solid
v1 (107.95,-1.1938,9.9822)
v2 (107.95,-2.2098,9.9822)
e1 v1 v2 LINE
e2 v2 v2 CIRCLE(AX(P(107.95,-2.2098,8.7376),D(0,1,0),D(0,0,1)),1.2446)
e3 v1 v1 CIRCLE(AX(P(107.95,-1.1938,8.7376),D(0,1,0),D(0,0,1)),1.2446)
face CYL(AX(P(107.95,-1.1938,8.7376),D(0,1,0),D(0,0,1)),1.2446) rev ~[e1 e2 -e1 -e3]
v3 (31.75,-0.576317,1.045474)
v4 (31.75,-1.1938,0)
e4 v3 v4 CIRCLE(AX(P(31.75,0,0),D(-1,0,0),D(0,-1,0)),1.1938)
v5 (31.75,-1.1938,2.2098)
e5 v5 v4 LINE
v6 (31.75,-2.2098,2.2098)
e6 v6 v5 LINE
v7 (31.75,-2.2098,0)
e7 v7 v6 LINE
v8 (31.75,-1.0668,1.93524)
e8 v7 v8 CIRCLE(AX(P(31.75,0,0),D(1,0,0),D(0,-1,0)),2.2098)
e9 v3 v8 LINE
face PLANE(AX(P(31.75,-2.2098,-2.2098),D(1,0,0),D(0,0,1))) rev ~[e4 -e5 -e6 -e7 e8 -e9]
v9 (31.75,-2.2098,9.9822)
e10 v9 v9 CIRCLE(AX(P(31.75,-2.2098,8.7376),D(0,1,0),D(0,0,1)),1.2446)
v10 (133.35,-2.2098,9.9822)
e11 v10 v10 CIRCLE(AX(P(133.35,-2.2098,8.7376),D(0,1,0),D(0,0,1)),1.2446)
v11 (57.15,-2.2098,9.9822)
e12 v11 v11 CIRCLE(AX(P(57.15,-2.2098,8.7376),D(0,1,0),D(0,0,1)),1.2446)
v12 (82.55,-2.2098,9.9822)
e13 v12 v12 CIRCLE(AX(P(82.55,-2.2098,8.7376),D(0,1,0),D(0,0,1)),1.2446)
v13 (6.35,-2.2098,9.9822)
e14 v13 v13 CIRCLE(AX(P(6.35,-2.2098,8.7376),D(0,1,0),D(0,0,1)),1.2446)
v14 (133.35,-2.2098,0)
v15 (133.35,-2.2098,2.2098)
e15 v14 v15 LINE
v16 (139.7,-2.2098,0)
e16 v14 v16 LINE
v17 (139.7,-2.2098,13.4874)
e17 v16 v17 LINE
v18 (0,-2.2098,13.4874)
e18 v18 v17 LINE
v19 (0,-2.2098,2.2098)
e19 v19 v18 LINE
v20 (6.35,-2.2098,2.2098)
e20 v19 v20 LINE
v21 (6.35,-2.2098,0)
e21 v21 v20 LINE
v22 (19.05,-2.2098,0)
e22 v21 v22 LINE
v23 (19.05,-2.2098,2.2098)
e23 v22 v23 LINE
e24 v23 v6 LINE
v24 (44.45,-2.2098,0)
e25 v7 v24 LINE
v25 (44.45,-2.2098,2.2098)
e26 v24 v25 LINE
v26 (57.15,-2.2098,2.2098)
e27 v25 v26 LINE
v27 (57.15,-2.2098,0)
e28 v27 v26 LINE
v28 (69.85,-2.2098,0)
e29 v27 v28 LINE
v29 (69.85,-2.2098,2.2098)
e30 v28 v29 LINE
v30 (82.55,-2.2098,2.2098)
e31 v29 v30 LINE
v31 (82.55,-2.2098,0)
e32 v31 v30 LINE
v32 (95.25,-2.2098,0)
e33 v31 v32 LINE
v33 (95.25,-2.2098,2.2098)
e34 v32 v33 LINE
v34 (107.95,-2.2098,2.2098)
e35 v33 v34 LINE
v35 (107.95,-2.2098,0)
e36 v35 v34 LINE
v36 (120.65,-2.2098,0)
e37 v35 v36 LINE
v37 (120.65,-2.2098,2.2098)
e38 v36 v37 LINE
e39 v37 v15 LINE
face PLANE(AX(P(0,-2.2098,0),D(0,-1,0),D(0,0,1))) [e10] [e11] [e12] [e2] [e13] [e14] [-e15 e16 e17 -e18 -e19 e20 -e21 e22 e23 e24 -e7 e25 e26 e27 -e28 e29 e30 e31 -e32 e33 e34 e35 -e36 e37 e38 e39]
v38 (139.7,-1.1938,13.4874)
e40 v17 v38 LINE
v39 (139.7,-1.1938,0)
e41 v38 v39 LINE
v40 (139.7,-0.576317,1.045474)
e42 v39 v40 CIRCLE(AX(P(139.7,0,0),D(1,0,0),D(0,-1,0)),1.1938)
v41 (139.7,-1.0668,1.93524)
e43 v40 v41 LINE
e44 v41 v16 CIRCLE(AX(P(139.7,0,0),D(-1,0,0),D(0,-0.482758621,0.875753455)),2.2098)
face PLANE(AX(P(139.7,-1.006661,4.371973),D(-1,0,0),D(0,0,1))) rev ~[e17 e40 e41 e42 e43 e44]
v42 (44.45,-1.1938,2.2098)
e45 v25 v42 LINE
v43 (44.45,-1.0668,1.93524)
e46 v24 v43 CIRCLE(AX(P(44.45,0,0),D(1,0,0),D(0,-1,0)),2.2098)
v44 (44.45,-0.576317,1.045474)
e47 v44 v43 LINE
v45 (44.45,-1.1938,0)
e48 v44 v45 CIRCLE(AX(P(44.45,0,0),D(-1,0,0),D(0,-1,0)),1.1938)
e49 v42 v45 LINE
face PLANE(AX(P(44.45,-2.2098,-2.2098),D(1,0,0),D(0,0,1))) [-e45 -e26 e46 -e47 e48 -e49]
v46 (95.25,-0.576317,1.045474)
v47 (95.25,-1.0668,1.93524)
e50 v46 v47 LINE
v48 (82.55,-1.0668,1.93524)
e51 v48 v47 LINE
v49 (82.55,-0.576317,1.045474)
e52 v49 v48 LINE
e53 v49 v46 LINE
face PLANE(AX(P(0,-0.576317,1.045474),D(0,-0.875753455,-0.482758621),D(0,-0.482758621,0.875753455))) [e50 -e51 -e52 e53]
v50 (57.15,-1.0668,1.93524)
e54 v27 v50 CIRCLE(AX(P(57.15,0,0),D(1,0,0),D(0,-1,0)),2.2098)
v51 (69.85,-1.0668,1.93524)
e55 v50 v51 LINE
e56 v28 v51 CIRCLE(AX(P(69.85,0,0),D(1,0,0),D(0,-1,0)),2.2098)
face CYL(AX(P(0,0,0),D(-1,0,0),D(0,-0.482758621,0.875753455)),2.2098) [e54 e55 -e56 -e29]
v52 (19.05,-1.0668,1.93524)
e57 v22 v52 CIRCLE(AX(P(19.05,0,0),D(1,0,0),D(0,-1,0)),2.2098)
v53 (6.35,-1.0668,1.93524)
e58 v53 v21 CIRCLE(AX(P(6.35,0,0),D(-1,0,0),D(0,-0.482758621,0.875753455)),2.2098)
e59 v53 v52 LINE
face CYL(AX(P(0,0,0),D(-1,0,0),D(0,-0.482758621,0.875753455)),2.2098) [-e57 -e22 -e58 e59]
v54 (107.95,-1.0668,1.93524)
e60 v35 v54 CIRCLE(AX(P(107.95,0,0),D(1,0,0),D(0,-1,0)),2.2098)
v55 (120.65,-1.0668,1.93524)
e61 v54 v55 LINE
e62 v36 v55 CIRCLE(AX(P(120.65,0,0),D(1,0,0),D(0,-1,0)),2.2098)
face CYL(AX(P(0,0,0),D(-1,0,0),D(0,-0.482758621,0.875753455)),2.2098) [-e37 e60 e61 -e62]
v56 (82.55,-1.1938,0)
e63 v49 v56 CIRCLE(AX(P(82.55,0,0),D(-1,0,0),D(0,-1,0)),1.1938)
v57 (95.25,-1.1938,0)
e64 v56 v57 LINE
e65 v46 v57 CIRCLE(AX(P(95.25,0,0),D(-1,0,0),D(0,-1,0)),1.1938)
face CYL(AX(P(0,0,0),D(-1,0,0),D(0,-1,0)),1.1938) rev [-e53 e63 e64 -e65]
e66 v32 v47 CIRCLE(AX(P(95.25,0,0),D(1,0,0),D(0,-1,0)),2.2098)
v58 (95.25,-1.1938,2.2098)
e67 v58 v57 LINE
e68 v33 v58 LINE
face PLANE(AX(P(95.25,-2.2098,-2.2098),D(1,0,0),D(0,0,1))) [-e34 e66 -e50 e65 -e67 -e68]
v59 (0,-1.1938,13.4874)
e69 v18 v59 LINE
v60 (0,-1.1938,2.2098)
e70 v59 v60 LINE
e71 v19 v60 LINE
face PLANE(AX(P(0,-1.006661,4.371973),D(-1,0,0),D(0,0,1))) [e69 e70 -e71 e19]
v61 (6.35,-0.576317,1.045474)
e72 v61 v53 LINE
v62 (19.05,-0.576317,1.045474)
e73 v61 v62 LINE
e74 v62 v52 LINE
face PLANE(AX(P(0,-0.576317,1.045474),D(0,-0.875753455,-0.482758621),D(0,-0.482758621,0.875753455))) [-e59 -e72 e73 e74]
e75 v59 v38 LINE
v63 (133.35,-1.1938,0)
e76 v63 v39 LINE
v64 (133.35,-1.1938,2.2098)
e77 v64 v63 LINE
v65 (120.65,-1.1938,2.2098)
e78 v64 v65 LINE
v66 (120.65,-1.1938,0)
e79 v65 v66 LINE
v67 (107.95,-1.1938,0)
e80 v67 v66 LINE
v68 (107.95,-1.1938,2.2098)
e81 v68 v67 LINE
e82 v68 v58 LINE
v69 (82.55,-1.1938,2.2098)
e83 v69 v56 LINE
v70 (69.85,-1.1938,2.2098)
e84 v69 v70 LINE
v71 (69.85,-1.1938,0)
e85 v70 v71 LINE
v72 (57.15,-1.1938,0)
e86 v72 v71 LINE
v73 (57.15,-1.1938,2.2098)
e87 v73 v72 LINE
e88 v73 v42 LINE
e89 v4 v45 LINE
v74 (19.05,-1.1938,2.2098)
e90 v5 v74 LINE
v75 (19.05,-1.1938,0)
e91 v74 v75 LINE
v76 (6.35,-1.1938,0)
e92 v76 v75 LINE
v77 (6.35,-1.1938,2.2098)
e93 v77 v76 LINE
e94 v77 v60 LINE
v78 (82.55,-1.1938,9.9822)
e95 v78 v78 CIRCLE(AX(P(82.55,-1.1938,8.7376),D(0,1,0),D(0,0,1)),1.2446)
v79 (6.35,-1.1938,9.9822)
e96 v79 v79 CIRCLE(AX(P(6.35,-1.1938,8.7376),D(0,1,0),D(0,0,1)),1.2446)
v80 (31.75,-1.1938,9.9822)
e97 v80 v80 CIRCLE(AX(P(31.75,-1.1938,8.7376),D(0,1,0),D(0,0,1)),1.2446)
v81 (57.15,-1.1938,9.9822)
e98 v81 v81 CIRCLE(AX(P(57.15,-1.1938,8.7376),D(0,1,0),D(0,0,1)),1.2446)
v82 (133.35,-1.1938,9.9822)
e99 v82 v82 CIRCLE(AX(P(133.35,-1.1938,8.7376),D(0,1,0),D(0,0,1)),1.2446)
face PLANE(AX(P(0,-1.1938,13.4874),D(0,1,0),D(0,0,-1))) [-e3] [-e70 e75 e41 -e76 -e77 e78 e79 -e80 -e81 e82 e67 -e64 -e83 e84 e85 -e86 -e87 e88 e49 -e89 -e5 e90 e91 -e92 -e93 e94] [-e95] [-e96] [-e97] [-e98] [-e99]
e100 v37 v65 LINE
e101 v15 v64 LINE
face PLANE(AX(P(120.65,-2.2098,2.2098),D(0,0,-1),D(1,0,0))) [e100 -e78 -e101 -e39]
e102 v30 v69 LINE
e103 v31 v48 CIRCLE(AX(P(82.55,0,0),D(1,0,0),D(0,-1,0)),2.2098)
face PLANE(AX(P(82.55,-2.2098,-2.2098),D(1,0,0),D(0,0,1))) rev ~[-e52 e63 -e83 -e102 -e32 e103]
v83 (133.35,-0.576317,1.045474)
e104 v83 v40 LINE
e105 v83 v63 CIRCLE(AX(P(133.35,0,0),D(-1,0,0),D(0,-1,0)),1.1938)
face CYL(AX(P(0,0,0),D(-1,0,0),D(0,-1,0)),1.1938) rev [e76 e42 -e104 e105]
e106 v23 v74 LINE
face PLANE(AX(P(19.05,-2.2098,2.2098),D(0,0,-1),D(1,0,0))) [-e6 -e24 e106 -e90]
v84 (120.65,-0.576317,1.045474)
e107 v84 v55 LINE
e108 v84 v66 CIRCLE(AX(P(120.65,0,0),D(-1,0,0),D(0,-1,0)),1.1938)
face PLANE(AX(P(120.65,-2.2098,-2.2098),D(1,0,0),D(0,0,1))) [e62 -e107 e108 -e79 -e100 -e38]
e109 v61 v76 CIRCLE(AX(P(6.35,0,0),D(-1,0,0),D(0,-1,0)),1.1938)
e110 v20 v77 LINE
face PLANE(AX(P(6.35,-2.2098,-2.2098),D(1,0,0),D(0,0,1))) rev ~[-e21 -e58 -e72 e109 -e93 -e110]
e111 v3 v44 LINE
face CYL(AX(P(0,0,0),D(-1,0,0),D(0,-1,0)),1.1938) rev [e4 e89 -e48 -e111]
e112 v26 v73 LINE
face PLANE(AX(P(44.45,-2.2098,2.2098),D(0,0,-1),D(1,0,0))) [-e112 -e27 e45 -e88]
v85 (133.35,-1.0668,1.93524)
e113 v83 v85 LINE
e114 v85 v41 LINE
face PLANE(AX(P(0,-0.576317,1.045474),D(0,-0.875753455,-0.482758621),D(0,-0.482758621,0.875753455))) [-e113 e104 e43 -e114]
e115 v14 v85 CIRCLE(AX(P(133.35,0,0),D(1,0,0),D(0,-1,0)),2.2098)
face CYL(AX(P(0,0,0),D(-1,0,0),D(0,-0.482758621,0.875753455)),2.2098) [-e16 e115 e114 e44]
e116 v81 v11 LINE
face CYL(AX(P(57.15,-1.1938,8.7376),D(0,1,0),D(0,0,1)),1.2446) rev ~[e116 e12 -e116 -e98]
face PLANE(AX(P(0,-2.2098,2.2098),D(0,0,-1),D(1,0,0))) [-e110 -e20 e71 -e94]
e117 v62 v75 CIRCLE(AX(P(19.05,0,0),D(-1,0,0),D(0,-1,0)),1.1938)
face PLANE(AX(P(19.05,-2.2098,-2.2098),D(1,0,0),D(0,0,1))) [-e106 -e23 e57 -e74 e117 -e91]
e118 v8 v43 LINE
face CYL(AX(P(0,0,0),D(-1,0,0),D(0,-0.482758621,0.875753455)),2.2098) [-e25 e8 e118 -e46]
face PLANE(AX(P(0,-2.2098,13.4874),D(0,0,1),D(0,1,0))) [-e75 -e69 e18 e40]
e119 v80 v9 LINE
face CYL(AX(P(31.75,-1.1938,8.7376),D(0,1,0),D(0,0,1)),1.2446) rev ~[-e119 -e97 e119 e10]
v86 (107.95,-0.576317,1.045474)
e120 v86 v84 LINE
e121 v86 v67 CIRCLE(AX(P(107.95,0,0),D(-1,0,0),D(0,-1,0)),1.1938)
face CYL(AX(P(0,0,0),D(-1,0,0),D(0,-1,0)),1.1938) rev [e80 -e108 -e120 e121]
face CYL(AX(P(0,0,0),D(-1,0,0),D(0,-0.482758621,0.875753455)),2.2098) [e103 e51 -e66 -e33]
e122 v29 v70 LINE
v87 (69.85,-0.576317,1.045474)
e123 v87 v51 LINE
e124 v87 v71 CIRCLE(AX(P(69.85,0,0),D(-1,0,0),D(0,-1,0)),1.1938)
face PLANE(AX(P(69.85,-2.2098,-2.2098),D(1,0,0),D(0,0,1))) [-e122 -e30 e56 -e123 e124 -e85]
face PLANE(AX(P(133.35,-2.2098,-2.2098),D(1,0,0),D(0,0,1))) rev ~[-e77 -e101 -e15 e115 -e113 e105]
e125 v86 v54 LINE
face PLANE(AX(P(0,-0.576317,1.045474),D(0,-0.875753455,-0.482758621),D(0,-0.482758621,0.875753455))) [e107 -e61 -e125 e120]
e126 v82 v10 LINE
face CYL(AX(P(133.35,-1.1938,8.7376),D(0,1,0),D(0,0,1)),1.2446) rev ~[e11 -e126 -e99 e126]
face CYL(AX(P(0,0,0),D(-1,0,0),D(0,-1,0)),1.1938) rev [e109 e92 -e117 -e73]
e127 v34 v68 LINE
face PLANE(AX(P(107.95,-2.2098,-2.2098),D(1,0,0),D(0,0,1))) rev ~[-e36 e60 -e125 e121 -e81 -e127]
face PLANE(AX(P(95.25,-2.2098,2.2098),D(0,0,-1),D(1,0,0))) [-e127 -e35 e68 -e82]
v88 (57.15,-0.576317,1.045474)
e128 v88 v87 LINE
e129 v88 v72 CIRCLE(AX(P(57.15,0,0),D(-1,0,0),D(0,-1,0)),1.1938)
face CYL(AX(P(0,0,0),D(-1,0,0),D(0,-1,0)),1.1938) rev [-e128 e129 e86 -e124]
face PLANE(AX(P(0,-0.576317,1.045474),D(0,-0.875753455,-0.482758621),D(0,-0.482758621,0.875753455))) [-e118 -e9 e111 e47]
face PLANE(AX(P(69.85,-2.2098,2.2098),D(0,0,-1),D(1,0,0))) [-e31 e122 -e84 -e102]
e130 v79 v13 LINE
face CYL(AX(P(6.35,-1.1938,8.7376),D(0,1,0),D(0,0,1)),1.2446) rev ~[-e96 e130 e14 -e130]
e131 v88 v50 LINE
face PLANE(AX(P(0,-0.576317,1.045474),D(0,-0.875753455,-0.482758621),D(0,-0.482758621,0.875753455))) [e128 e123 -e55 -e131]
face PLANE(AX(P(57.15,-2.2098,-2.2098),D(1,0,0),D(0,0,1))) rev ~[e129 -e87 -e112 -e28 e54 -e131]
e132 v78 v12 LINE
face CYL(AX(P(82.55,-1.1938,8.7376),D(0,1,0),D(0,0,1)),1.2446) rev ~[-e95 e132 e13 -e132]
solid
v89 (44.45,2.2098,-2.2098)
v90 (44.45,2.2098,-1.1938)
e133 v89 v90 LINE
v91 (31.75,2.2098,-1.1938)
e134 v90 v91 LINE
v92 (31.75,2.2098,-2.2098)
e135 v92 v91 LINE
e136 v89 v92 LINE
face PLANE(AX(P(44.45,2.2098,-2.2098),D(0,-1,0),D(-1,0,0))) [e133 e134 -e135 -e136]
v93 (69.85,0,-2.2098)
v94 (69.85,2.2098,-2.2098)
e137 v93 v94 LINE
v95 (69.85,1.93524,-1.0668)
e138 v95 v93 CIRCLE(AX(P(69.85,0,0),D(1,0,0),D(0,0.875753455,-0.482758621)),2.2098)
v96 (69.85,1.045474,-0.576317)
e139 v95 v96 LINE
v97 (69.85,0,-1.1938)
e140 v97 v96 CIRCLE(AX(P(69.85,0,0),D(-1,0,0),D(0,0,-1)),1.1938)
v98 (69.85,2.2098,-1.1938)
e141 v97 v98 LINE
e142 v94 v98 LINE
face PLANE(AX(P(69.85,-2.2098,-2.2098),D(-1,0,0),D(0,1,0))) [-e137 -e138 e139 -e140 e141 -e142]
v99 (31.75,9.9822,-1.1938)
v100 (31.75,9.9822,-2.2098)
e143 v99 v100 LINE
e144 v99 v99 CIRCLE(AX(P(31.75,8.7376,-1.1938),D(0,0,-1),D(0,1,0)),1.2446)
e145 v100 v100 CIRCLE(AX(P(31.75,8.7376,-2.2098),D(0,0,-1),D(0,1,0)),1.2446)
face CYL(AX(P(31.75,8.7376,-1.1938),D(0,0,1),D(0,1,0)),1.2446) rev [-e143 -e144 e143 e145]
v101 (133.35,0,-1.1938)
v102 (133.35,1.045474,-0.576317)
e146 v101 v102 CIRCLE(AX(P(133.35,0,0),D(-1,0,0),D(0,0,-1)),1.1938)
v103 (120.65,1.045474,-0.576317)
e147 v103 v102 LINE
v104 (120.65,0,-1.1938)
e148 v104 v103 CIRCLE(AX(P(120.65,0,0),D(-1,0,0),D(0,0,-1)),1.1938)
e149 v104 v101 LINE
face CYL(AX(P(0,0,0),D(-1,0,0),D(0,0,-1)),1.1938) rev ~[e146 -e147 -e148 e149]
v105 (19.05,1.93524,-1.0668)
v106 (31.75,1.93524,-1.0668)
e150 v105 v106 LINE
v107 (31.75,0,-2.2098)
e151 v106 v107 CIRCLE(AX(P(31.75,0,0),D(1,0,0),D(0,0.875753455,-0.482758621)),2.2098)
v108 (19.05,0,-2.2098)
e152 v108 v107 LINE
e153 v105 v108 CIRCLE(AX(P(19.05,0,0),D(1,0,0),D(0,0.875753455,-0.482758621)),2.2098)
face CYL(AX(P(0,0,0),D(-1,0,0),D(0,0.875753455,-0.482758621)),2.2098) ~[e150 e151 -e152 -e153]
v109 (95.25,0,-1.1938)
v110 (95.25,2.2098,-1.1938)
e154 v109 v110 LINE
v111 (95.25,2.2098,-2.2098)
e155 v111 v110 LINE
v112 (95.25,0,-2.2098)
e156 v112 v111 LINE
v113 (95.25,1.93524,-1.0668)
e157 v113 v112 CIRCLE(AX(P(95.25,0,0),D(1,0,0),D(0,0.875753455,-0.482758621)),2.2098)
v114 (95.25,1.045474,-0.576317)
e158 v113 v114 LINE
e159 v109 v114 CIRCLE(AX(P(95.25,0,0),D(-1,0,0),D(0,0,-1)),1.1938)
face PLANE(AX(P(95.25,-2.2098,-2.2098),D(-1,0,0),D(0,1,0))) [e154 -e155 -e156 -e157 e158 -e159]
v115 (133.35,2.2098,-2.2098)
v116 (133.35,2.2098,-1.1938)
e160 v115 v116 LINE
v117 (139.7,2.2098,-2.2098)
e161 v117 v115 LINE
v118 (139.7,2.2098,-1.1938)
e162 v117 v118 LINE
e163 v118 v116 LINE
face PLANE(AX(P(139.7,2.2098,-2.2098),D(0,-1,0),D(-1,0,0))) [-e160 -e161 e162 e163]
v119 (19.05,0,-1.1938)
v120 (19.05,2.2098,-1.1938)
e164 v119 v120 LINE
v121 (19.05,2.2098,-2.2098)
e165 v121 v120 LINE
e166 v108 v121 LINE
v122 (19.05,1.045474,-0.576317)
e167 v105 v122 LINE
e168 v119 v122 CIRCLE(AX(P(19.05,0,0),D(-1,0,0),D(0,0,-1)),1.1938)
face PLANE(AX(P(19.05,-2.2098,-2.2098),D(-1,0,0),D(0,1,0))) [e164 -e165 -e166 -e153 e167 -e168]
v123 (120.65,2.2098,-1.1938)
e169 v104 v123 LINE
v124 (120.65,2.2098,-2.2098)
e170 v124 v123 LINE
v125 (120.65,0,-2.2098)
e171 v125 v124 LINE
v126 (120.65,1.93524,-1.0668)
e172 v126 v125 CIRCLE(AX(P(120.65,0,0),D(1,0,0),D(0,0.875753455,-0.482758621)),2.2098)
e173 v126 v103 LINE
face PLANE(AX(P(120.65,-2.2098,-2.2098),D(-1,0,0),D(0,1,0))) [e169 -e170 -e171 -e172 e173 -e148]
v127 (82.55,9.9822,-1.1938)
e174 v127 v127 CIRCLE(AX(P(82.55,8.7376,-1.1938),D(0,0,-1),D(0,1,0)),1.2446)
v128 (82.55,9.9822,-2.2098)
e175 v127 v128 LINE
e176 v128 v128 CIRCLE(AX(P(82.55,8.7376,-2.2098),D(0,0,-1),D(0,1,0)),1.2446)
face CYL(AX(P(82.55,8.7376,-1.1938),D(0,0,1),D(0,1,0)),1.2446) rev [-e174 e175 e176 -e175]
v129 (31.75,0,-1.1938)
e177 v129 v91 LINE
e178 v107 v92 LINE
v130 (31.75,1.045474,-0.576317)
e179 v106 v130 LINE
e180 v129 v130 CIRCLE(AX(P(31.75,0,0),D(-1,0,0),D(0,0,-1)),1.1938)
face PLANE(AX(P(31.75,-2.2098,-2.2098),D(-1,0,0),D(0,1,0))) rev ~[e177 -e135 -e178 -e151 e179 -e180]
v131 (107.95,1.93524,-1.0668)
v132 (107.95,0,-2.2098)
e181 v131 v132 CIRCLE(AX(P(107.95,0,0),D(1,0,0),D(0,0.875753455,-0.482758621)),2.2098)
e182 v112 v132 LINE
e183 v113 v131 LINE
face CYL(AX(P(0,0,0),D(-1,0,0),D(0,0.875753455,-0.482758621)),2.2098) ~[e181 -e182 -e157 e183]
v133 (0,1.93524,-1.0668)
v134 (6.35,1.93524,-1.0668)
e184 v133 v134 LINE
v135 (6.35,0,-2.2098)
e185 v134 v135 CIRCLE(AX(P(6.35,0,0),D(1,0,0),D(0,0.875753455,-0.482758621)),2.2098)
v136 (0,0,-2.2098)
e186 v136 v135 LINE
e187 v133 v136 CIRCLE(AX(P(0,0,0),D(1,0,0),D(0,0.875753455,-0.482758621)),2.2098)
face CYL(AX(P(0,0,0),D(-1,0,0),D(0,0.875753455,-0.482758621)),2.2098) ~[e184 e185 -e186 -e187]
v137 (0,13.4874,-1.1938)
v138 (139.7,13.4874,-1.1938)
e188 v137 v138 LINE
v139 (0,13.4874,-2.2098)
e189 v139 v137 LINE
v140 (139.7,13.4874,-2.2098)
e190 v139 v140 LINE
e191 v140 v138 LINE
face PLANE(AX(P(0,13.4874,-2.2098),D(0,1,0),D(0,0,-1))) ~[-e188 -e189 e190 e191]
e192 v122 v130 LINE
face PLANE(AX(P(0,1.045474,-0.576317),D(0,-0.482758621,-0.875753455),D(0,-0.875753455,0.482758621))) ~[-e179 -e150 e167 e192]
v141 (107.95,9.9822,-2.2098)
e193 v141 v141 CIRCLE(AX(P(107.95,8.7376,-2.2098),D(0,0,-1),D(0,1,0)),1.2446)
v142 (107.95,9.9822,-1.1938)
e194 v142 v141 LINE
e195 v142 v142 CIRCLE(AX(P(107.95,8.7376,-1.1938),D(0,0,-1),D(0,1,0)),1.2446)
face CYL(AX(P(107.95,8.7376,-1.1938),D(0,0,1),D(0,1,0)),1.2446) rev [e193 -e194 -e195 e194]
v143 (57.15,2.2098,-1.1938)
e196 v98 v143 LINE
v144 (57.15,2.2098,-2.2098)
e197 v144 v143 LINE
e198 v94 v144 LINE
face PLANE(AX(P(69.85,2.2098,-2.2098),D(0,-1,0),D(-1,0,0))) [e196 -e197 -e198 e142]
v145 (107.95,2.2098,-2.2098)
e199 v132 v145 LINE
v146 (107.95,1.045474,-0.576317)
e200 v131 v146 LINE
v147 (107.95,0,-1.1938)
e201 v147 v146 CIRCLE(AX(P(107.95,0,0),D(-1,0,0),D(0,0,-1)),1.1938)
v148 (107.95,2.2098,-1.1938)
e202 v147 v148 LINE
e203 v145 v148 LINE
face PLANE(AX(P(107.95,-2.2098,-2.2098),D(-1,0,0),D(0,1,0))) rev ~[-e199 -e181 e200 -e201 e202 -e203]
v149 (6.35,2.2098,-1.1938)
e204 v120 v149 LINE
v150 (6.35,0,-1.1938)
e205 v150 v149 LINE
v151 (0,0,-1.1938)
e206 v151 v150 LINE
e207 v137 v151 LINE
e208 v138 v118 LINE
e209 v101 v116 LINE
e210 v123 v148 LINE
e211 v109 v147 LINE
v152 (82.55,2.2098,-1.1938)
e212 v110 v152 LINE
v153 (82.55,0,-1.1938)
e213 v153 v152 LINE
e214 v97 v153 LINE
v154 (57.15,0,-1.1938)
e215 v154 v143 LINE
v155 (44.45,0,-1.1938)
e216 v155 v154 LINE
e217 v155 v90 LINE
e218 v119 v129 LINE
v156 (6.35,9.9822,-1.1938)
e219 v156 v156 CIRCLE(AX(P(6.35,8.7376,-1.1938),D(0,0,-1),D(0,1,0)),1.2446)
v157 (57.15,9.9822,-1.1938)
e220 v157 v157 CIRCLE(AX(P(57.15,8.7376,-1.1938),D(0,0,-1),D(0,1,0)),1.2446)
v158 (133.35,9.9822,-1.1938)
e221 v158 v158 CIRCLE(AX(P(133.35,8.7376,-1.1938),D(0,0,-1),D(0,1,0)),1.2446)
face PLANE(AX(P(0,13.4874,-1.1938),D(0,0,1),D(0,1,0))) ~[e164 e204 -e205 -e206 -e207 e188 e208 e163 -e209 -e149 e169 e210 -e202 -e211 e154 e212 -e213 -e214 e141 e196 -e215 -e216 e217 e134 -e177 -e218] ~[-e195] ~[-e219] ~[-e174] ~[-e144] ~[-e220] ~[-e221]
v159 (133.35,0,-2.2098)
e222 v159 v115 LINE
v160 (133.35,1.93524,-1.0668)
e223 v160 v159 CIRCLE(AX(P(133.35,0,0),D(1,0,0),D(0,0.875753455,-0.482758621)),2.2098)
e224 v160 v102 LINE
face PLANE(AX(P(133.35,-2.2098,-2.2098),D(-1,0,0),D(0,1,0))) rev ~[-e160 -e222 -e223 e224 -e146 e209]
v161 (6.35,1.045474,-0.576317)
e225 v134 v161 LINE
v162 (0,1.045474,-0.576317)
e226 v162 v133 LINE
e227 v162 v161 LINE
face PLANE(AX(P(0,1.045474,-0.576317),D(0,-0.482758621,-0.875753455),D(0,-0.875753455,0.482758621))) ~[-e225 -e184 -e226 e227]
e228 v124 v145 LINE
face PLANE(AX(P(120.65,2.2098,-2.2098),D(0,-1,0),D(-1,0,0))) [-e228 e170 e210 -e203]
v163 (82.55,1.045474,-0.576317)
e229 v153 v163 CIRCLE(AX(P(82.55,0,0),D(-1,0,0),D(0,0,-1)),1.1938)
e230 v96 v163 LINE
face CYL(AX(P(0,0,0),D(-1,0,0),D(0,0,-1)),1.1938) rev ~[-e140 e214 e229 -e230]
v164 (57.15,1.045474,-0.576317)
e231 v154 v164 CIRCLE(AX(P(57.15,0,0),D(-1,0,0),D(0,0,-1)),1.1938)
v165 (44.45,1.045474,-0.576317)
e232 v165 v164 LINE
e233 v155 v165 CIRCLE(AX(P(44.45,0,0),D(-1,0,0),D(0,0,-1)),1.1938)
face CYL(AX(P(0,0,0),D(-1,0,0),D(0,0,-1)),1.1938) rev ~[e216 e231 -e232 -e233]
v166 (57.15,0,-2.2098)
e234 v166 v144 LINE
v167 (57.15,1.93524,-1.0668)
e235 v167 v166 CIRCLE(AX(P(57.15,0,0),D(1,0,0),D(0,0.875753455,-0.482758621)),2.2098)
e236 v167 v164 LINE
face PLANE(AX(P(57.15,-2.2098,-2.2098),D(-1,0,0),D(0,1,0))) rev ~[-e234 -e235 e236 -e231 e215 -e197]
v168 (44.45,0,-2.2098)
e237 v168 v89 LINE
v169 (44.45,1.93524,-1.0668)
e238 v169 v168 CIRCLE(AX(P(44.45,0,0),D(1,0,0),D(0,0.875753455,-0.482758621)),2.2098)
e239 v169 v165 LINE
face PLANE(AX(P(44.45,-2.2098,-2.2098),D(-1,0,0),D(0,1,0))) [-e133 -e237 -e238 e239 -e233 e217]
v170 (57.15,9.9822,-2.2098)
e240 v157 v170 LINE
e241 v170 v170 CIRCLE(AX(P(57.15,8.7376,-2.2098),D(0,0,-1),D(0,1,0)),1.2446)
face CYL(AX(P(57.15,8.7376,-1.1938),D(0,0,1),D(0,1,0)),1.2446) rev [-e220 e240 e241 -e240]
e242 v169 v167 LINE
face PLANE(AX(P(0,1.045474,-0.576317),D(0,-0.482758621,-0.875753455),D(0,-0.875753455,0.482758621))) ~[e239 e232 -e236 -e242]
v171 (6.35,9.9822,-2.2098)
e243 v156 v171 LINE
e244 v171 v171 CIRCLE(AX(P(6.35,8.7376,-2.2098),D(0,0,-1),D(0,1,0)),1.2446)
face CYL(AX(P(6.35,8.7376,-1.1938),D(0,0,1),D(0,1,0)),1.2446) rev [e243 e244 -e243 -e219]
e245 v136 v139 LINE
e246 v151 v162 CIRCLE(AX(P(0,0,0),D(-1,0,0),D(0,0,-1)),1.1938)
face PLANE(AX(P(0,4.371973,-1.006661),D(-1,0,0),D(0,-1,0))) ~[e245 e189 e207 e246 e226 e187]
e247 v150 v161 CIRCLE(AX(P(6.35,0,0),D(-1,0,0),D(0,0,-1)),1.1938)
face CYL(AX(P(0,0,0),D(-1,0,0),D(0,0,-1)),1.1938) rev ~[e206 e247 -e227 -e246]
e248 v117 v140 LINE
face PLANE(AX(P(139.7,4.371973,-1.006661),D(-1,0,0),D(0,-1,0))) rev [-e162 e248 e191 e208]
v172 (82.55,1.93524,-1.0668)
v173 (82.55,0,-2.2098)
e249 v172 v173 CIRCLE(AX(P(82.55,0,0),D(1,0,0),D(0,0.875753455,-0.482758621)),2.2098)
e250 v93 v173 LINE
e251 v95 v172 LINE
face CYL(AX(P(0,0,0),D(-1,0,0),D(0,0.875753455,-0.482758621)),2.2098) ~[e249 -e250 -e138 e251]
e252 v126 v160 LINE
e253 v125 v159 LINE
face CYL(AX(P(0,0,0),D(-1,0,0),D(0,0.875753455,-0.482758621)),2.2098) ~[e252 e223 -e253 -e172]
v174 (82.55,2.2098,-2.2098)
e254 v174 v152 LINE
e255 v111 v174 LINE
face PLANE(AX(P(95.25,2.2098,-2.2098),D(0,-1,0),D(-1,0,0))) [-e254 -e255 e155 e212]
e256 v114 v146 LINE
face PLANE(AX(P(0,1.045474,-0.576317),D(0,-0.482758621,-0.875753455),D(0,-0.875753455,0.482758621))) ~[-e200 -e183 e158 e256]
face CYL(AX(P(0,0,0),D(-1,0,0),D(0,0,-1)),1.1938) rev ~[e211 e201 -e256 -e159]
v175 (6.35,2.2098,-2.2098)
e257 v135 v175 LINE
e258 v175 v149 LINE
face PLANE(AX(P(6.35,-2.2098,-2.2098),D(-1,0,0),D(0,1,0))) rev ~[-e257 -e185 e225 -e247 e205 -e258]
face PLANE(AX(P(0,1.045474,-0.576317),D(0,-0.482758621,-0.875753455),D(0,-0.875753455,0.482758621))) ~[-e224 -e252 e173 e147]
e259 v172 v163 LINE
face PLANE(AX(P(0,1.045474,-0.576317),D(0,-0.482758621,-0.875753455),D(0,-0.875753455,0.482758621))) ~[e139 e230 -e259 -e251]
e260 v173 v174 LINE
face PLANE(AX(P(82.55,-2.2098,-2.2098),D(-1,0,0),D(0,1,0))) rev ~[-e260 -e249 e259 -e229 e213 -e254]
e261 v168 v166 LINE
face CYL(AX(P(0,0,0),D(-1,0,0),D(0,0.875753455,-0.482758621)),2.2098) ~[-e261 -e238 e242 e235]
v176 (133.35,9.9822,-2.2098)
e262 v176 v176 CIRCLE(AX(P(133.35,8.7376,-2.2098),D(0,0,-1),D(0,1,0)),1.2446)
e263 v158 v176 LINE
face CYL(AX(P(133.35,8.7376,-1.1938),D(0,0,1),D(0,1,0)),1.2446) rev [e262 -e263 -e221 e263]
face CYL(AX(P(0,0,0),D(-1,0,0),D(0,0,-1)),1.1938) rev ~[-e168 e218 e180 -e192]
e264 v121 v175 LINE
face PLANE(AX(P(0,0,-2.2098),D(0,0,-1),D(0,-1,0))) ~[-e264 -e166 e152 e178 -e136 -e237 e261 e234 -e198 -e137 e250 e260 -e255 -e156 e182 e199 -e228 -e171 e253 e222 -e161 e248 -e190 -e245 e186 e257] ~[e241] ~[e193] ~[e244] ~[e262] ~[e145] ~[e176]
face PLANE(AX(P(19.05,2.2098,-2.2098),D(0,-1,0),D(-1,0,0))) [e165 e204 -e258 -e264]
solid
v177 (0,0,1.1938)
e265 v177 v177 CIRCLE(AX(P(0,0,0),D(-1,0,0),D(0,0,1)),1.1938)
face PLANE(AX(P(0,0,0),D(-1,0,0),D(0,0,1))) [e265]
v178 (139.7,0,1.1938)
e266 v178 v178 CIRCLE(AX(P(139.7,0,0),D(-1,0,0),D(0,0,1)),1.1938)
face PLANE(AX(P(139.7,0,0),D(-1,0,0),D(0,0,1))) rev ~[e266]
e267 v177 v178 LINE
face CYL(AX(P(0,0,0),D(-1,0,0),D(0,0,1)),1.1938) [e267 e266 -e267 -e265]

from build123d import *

# Parameters (mm, degrees)
BOSS_EXTRUDE1_DEPTH = 139.7
SKETCH2_R           = 1.2446
CUT_EXTRUDE1_DEPTH  = 141.39082752
LPATTERN1_COUNT     = 6
LPATTERN1_PITCH     = 25.4
SKETCH3_W           = 6.35
SKETCH3_H           = 4.4196
SKETCH3_W_2         = 12.7
CUT_EXTRUDE2_DEPTH  = 142.224650988
SKETCH4_W           = 12.7
SKETCH4_H           = 4.4196
SKETCH4_W_2         = 6.35
CUT_EXTRUDE3_DEPTH  = 142.224650988
SKETCH5_R           = 1.1938
BOSS_EXTRUDE2_DEPTH = 139.7


with BuildPart() as part:
    # Sketch1 → Boss-Extrude1 (new body)
    with BuildSketch(Plane(origin=(0, 0, 0), x_dir=(0, 0, -1), z_dir=(1, 0, 0))):
        with BuildLine():
            Line((0, -2.2098), (-13.4874, -2.2098))
            Line((-13.4874, -2.2098), (-13.4874, -1.1938))
            Line((-13.4874, -1.1938), (0, -1.1938))
            ThreePointArc((0, -1.1938), (0.607104158, 1.027902224), (-1.045474475, -0.576317241))
            Line((-1.045474475, -0.576317241), (-1.935239985, -1.0668))
            ThreePointArc((-1.935239985, -1.0668), (1.123788548, 1.902712627), (0, -2.2098))
        make_face()
    extrude(amount=BOSS_EXTRUDE1_DEPTH)

    # Sketch2 → Cut-Extrude1 (cut, through all)
    with BuildSketch(Plane(origin=(0, -1.1938, 0), x_dir=(1, 0, 0), z_dir=(0, 1, 0))):
        with Locations(Location((6.35, -8.7376, 0), (0, 0, 270))):
            Circle(SKETCH2_R)
    cut_extrude1 = extrude(amount=-CUT_EXTRUDE1_DEPTH, mode=Mode.SUBTRACT)

    # LPattern1: Cut-Extrude1 ×6
    with Locations(*[(i * LPATTERN1_PITCH, 0, 0) for i in range(1, LPATTERN1_COUNT)]):
        add(cut_extrude1, mode=Mode.SUBTRACT)


with BuildPart() as body_2:
    # Mirror1: mirrored copy
    add(part.part.mirror(Plane(origin=(0, 0, 0), x_dir=(0, 0.7071067811865477, 0.7071067811865474), z_dir=(0, 0.7071067811865476, -0.7071067811865476))))

    # Sketch4 → Cut-Extrude3 (cut, through all)
    with BuildSketch(Plane(origin=(0, 0, -2.2098), x_dir=(-1, 0, 0), z_dir=(0, 0, -1))):
        with Locations((-12.7, 0)):
            Rectangle(SKETCH4_W, SKETCH4_H)
        with Locations((-38.1, 0)):
            Rectangle(SKETCH4_W, SKETCH4_H)
        with Locations((-63.5, 0)):
            Rectangle(SKETCH4_W, SKETCH4_H)
        with Locations((-88.9, 0)):
            Rectangle(SKETCH4_W, SKETCH4_H)
        with Locations((-114.3, 0)):
            Rectangle(SKETCH4_W, SKETCH4_H)
        with Locations((-136.525, 0)):
            Rectangle(SKETCH4_W_2, SKETCH4_H)
    extrude(amount=-CUT_EXTRUDE3_DEPTH, mode=Mode.SUBTRACT)


with BuildPart() as part_1:
    add(part.part)

    # Sketch3 → Cut-Extrude2 (cut, through all)
    with BuildSketch(Plane.XZ.offset(2.2098)):
        with Locations((3.175, 0)):
            Rectangle(SKETCH3_W, SKETCH3_H)
        with Locations((25.4, 0)):
            Rectangle(SKETCH3_W_2, SKETCH3_H)
        with Locations((50.8, 0)):
            Rectangle(SKETCH3_W_2, SKETCH3_H)
        with Locations((76.2, 0)):
            Rectangle(SKETCH3_W_2, SKETCH3_H)
        with Locations((101.6, 0)):
            Rectangle(SKETCH3_W_2, SKETCH3_H)
        with Locations((127, 0)):
            Rectangle(SKETCH3_W_2, SKETCH3_H)
    extrude(amount=-CUT_EXTRUDE2_DEPTH, mode=Mode.SUBTRACT)


with BuildPart() as body_3:
    # Sketch5 → Boss-Extrude2 (new body)
    with BuildSketch(Plane.ZY):
        Circle(SKETCH5_R)
    extrude(amount=-BOSS_EXTRUDE2_DEPTH)


solid = Compound([body_2.part, part_1.part, body_3.part])
